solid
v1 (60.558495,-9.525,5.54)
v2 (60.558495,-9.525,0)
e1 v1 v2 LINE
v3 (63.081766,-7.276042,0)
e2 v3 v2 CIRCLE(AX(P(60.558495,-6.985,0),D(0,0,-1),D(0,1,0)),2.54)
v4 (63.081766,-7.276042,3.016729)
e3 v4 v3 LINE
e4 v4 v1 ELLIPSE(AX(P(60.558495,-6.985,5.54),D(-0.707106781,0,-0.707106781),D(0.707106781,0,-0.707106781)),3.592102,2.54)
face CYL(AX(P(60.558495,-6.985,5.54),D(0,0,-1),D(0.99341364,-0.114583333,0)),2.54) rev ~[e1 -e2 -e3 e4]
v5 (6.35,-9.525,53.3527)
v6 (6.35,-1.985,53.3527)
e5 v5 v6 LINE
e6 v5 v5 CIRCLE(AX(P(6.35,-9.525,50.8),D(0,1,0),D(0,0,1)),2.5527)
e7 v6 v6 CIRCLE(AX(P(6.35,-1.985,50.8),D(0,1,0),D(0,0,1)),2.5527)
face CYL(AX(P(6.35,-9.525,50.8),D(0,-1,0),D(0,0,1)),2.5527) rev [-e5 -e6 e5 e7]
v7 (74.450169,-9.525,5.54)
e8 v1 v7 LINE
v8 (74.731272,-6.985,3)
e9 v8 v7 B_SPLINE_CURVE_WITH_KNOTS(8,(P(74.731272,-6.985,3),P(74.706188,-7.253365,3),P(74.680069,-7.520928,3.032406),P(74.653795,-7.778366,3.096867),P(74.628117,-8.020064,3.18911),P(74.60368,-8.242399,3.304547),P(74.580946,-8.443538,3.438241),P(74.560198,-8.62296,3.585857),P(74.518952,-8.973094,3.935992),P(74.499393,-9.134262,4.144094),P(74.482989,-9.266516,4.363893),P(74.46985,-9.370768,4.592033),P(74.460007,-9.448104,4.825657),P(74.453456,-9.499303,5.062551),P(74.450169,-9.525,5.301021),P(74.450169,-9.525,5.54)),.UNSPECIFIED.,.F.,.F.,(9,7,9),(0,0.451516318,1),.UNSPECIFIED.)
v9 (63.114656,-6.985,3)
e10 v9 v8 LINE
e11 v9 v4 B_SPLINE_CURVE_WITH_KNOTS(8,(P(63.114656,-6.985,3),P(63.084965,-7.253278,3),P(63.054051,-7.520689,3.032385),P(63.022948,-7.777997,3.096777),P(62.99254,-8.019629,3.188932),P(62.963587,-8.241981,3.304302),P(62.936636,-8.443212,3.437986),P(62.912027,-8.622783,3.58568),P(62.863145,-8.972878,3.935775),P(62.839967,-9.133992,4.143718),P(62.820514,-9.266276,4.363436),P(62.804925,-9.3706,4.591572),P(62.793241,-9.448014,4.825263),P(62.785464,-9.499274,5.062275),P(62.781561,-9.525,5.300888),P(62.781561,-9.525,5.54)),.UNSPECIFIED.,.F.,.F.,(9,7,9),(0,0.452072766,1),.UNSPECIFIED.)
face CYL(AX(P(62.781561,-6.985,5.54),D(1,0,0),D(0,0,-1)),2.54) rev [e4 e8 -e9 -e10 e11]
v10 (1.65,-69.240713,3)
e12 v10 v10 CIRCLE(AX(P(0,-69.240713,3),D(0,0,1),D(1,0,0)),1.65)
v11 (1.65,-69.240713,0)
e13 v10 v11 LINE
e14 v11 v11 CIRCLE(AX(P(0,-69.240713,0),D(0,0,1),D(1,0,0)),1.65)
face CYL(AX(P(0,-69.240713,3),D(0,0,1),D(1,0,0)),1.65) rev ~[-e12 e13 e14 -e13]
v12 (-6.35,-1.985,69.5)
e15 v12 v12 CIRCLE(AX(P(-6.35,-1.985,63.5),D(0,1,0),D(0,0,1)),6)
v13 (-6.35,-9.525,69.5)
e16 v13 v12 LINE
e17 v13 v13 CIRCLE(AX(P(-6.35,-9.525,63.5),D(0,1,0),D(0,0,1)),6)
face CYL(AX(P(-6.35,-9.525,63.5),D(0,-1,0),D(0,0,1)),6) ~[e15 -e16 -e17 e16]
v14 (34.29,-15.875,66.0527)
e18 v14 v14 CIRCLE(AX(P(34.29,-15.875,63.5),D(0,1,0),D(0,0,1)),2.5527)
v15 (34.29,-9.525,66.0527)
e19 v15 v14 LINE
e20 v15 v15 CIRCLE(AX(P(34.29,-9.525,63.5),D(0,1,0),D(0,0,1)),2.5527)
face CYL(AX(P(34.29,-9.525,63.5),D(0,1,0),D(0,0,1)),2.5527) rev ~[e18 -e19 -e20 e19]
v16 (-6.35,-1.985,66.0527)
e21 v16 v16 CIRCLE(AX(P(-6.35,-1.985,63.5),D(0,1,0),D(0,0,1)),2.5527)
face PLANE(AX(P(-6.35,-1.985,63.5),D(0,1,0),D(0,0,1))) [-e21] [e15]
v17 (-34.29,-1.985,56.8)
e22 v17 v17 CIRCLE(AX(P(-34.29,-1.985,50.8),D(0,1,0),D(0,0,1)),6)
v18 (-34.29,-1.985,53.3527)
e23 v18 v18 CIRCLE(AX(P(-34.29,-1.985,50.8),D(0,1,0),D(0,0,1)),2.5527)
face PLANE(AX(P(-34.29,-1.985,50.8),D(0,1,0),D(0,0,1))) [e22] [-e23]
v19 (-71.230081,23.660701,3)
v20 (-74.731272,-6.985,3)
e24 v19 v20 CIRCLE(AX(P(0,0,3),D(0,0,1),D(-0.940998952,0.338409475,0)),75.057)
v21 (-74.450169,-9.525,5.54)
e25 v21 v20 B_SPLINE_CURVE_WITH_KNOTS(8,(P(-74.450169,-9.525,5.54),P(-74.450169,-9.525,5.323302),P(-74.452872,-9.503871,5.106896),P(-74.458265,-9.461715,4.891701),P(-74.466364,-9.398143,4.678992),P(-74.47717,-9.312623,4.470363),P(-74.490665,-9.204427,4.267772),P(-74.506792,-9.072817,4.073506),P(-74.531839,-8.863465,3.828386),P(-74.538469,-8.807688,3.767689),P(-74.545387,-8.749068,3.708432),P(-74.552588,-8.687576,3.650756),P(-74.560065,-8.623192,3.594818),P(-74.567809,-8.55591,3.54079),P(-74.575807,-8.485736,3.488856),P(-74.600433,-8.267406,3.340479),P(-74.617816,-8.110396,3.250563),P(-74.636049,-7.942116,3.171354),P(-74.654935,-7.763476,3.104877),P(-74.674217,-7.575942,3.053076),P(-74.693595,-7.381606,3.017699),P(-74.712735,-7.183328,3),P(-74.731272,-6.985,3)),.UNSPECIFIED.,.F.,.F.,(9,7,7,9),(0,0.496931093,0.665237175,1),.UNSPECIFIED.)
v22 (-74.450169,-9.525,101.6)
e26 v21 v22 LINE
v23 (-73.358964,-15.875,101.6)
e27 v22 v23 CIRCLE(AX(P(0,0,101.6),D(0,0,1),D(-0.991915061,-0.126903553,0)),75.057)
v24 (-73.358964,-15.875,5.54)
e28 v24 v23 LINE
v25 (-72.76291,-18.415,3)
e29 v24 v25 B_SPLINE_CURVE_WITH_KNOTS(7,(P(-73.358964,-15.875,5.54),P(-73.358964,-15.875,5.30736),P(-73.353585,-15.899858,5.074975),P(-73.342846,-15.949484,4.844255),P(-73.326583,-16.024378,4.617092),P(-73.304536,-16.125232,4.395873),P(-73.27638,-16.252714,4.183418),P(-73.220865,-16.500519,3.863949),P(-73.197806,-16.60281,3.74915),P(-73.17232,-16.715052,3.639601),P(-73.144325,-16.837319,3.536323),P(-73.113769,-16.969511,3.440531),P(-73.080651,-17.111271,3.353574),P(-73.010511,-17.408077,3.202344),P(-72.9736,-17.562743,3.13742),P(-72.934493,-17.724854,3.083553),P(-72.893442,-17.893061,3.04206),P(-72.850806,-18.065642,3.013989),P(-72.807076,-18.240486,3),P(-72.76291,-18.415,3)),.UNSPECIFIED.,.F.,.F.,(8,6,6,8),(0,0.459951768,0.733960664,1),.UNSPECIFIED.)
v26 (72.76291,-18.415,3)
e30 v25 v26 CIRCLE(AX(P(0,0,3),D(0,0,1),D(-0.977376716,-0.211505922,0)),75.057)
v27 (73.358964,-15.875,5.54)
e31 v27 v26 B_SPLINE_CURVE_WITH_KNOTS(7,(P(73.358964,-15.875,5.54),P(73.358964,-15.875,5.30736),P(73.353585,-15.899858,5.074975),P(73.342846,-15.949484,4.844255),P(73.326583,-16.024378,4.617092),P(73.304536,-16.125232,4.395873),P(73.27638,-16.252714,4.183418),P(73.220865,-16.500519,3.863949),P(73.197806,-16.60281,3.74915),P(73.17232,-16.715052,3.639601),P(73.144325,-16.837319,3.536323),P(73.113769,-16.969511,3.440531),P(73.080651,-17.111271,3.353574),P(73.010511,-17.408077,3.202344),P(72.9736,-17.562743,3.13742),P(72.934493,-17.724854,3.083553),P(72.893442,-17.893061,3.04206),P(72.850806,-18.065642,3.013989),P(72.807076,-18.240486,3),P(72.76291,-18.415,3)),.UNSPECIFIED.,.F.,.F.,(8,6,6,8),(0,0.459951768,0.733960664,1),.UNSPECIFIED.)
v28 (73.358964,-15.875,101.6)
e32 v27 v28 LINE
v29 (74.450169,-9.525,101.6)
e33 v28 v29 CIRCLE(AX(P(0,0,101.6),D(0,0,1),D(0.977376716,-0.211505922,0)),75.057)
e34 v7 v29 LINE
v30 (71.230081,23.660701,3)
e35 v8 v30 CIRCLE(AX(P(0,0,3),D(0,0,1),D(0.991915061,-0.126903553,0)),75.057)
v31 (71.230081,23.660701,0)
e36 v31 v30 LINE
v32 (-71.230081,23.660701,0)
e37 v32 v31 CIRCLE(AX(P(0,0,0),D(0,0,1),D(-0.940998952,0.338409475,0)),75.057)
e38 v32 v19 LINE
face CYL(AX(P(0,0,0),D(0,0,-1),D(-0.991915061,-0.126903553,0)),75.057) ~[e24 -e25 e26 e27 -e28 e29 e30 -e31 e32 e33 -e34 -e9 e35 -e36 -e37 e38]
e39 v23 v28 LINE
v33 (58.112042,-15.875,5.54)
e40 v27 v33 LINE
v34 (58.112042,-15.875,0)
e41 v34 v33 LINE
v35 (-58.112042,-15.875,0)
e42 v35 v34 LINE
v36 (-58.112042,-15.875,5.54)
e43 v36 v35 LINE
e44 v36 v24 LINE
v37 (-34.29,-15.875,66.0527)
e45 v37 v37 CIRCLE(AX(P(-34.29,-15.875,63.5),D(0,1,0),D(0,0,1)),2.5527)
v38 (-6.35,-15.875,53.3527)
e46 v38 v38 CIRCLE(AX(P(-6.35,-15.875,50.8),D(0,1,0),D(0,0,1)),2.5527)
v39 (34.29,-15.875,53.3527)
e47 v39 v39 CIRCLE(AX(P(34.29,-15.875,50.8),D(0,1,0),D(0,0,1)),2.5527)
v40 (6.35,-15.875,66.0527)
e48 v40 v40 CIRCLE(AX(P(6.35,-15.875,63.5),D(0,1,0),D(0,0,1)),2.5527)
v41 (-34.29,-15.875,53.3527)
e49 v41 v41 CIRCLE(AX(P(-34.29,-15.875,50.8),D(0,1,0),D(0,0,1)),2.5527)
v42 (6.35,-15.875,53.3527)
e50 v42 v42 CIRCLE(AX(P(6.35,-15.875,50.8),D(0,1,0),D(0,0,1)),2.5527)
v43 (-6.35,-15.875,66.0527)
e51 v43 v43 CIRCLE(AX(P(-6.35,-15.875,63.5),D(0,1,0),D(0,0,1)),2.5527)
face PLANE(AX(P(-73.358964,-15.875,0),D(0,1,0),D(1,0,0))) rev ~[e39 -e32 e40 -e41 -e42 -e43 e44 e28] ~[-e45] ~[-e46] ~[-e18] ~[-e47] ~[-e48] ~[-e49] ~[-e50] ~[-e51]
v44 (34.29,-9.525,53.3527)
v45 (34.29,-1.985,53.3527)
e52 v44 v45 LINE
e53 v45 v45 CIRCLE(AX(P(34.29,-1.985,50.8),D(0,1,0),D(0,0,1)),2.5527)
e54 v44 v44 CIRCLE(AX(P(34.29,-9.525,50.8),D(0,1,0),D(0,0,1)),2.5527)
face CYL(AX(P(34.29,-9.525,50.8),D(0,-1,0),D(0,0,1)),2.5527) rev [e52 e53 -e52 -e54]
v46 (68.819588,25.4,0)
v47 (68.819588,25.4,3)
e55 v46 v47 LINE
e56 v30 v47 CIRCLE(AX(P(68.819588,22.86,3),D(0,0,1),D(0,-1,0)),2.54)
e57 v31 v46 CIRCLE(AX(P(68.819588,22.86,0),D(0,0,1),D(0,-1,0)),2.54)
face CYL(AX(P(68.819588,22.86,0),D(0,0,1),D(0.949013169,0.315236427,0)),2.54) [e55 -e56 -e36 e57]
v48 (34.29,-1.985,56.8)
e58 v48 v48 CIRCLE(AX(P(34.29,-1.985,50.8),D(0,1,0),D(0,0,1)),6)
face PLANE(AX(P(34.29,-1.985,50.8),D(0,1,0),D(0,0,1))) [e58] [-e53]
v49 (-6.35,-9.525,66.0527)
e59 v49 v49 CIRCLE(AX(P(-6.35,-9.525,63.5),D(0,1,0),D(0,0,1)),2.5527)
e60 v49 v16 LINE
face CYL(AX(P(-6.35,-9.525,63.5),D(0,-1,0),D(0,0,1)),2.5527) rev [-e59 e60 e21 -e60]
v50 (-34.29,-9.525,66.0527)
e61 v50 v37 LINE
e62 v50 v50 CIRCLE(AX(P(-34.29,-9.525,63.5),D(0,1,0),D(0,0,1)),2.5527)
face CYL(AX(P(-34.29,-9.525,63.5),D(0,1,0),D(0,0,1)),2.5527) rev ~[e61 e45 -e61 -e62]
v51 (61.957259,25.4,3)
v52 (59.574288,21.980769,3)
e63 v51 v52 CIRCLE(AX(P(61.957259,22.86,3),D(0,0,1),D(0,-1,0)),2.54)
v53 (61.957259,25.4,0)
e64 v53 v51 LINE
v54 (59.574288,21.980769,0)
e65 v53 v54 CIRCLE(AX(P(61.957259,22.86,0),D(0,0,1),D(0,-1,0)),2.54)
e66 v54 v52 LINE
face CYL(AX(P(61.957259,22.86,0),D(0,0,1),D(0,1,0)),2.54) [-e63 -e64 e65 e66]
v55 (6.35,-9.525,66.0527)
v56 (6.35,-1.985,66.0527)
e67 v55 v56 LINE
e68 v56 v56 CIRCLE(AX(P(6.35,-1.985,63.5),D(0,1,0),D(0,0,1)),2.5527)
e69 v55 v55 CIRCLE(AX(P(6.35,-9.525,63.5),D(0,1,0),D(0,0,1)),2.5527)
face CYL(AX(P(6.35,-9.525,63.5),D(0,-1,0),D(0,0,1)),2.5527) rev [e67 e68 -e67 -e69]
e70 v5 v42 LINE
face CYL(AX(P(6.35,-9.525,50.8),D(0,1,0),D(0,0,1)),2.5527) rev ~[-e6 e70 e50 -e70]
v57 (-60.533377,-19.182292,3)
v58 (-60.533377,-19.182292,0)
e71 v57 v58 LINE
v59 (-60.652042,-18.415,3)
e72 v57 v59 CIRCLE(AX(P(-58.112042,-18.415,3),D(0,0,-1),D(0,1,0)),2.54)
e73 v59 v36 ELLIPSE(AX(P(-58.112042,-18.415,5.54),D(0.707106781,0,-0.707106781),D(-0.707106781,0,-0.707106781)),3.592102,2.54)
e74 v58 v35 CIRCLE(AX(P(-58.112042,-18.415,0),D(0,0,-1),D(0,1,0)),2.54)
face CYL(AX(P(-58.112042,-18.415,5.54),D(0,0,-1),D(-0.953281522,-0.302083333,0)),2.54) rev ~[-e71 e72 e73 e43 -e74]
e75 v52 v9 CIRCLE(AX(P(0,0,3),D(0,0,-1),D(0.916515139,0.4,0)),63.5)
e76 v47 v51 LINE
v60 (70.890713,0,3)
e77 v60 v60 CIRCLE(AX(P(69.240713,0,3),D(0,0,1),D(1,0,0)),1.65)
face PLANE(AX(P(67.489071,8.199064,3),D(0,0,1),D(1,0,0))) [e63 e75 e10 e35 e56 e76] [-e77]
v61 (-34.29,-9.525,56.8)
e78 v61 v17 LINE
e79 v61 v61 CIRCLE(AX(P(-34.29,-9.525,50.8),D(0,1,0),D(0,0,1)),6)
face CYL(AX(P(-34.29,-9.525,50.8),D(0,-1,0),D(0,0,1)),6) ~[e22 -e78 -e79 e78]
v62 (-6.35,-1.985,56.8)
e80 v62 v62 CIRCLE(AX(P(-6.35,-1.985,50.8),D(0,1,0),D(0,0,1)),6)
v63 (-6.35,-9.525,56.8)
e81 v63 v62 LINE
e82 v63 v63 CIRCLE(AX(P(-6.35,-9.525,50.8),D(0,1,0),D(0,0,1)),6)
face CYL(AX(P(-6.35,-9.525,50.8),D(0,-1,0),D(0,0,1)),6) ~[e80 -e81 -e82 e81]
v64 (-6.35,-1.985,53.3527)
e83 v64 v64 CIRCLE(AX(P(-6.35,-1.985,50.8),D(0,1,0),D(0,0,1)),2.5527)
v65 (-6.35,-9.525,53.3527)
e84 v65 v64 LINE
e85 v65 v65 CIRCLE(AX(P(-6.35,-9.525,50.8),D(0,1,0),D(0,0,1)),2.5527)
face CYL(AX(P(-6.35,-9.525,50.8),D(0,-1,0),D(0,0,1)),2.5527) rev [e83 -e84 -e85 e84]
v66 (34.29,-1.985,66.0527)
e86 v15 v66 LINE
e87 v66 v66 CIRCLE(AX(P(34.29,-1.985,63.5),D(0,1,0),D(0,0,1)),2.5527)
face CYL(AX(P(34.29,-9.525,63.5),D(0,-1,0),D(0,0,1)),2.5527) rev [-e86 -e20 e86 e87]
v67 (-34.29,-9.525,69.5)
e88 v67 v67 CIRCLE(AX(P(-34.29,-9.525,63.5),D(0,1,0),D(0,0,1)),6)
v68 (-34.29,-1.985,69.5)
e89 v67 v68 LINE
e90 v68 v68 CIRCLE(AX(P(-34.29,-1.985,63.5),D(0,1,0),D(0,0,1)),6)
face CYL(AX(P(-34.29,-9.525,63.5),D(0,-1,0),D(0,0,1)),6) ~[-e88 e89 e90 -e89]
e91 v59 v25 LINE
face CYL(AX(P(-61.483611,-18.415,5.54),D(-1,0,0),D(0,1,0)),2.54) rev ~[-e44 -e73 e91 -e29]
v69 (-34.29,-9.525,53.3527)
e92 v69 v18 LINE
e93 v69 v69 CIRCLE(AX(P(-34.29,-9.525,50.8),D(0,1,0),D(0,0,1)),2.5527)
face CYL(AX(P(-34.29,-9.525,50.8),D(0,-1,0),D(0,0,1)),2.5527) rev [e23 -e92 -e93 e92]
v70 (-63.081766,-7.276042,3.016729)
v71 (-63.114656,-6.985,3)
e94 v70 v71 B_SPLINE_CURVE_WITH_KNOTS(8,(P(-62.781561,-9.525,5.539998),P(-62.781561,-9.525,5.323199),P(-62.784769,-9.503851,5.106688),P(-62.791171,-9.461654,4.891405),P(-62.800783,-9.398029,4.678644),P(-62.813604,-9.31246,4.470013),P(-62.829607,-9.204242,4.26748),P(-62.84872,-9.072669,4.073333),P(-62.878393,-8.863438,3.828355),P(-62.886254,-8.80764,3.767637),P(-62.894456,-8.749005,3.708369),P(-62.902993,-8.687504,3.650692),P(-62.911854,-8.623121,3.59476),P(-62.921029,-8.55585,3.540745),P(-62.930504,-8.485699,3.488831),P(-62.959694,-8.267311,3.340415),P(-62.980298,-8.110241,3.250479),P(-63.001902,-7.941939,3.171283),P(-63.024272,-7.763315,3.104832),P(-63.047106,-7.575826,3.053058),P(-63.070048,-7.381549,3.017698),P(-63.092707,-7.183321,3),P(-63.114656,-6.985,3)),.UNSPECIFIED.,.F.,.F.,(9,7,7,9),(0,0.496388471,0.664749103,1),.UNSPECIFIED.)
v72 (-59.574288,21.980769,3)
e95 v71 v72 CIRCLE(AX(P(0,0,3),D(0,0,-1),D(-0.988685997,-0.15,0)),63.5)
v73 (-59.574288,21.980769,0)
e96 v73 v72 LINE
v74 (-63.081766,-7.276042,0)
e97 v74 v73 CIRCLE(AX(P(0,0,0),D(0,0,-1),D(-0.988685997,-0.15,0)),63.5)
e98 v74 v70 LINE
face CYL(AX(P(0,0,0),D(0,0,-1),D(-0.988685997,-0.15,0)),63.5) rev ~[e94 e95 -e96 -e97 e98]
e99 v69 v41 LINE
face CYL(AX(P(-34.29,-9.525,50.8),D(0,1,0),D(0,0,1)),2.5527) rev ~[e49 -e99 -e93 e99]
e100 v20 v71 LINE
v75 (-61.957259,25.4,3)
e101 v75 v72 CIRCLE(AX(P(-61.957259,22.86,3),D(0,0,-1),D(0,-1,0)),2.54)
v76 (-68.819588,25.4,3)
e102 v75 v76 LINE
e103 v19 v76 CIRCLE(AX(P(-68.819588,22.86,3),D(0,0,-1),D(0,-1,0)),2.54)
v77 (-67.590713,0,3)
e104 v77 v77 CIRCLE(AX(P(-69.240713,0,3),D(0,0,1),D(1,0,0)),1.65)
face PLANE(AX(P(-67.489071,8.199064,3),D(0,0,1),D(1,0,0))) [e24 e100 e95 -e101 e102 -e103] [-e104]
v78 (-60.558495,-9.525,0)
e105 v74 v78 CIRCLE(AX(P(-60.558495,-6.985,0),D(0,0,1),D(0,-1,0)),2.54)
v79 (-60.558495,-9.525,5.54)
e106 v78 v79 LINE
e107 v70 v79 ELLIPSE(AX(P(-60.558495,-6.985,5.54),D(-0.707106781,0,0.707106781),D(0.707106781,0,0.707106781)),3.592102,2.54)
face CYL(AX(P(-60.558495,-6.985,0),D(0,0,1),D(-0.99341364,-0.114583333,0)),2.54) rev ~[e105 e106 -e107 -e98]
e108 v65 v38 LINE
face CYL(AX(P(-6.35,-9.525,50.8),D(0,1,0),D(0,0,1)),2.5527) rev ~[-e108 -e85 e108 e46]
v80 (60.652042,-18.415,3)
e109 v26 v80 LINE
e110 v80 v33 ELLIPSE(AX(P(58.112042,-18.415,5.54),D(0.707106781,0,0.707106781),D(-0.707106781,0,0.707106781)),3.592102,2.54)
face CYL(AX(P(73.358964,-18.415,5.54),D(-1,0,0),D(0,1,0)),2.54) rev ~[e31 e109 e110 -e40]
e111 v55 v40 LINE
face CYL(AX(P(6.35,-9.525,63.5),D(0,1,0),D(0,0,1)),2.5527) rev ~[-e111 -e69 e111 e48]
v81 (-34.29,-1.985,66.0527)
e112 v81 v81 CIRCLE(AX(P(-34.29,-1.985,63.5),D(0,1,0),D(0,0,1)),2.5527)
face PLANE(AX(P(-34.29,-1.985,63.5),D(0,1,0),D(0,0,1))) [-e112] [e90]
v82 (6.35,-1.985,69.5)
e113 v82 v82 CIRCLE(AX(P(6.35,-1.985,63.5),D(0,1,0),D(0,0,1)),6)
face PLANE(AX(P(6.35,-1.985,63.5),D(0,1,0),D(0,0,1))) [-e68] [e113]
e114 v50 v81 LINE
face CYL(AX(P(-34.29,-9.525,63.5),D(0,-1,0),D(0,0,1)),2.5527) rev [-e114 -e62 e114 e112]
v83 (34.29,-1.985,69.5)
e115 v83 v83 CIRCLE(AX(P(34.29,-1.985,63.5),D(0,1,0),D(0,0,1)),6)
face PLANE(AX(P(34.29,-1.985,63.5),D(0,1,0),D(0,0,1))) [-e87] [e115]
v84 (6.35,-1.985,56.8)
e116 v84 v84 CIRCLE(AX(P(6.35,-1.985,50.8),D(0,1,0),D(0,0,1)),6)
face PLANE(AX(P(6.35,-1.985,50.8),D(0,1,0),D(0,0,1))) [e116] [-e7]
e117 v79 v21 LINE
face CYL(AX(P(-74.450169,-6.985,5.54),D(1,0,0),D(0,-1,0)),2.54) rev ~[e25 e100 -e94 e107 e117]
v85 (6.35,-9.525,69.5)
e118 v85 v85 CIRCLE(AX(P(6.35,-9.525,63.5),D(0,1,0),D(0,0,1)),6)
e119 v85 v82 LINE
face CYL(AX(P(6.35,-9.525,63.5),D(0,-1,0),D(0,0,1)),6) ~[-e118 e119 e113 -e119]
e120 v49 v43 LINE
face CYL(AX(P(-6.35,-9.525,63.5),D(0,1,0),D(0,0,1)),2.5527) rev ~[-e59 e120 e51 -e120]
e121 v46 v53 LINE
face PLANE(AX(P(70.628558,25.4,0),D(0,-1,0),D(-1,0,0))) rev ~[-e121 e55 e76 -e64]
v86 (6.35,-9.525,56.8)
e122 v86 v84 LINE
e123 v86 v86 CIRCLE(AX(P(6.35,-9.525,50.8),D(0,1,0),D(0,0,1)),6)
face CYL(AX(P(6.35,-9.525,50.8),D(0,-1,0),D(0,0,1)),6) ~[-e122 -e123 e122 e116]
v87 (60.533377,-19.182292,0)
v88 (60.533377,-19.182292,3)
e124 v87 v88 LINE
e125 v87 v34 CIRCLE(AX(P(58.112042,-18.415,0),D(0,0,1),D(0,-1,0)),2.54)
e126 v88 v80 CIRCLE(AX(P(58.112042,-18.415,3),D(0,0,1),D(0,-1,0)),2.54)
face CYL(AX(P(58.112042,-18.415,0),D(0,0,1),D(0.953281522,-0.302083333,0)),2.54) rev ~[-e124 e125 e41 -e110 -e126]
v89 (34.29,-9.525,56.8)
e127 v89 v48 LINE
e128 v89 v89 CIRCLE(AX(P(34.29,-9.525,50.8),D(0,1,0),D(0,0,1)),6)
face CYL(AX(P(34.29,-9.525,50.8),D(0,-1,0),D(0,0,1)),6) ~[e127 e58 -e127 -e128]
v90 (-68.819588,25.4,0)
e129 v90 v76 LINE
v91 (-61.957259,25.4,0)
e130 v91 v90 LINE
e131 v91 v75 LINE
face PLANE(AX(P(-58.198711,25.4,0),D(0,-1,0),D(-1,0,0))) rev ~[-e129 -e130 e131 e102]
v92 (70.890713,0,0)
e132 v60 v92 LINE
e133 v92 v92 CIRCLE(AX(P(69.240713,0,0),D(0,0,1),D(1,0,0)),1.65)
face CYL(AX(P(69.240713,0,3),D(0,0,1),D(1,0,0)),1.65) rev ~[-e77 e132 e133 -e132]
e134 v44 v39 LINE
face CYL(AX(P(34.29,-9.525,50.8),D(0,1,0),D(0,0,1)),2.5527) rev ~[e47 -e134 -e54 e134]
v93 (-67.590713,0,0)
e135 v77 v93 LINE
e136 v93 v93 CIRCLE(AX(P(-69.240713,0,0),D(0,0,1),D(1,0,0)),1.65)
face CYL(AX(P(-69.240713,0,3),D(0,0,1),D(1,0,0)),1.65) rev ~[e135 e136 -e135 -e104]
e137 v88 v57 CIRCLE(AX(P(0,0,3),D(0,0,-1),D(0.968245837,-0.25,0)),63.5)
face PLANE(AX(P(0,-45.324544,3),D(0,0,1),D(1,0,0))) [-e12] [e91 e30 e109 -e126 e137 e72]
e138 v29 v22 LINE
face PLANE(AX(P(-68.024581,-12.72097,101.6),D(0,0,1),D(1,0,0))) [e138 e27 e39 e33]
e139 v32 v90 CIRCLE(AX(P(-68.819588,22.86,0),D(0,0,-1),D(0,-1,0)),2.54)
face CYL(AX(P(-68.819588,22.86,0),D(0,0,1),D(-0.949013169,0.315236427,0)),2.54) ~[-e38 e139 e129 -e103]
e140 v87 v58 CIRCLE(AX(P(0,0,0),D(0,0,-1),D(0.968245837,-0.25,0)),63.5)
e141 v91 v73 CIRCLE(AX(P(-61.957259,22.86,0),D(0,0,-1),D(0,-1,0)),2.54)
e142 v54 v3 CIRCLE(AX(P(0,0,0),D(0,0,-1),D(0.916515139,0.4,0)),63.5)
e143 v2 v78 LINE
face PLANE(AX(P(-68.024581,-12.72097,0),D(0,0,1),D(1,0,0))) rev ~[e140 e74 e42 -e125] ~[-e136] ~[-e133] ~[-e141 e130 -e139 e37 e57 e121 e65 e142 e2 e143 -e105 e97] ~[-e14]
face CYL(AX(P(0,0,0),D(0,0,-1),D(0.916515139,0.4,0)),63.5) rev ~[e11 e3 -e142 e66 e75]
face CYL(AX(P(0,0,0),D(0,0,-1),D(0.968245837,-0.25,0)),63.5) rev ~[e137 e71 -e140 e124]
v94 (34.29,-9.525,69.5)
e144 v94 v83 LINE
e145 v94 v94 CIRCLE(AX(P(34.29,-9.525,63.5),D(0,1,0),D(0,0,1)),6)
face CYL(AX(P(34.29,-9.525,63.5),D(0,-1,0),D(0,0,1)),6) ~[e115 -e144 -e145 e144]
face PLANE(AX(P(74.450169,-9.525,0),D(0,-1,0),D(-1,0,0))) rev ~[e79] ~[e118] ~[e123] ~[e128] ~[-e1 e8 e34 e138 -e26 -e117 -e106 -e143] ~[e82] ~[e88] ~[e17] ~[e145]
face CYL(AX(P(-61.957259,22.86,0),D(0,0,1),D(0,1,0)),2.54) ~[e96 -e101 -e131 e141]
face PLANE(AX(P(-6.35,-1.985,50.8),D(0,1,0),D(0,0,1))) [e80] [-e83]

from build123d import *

# Parameters (mm, degrees)
BOSS_EXTRUDE1_DEPTH   = 3
BOSS_EXTRUDE1_2_DEPTH = 3
BOSS_EXTRUDE1_3_DEPTH = 3
BOSS_EXTRUDE2_DEPTH   = 101.6
SKETCH2_R             = 5.999999999999988
SKETCH2_R_2           = 2.5526999999999975
SKETCH2_R_3           = 6
SKETCH2_R_4           = 2.5527000000000024
SKETCH2_R_5           = 6.000000000000007
SKETCH2_R_6           = 2.5526999999999953
SKETCH2_R_7           = 5.999999999999999
SKETCH2_R_8           = 2.552699999999999
SKETCH2_R_9           = 5.9999999999999964
SKETCH2_R_10          = 6.0000000000000036
SKETCH2_R_11          = 2.5527000000000126
SKETCH2_R_12          = 2.552700000000004
BOSS_EXTRUDE3_DEPTH   = 7.54
SKETCH2_3_R           = 2.5526999999999953
SKETCH2_3_R_2         = 2.5526999999999975
SKETCH2_3_R_3         = 2.5527000000000024
SKETCH2_3_R_4         = 2.552699999999999
SKETCH2_3_R_5         = 2.5527000000000126
SKETCH2_3_R_6         = 2.552700000000004
CUT_EXTRUDE1_DEPTH    = 143.3044492382441
SKETCH3_R             = 1.6499999999999975
SKETCH3_R_2           = 1.6500000000000021
CUT_EXTRUDE2_DEPTH    = 145.87603838454444
FILLET1_R             = 2.5399999999999996
FILLET2_R             = 2.5399999999999996
FILLET3_R             = 2.5399999999999996


with BuildPart() as part:
    # Sketch1 → Boss-Extrude1 (new body)
    with BuildSketch(Plane.XY):
        with BuildLine():
            Line((-58.198711325939165, 25.400000000000002), (-70.62855831036053, 25.400000000000002))
            ThreePointArc((-70.62855831036052, 25.39999999999999), (-74.61164899798933, 8.164256414446488), (-74.45016873050051, -9.524999999999999))
            Line((-74.45016873050054, -9.525), (-62.78156078818072, -9.525))
            ThreePointArc((-62.7815607881806, -9.524999999999148), (-62.96026895155072, 8.261630199203937), (-58.198711325939165, 25.4))
        make_face()
    extrude(amount=BOSS_EXTRUDE1_DEPTH)



with BuildPart() as body_2:
    # Sketch1 → Boss-Extrude1 2 (new body)
    with BuildSketch(Plane.XY):
        with BuildLine():
            Line((-61.48361062104342, -15.875), (-73.35896416935016, -15.875))
            ThreePointArc((-73.35896416935012, -15.874999999999993), (1.421e-14, -75.05699999999997), (73.35896416935014, -15.874999999999961))
            Line((73.35896416935016, -15.875), (61.48361062104344, -15.875))
            ThreePointArc((61.483610621043105, -15.874999999998629), (1.78e-15, -63.50000000000001), (-61.48361062104309, -15.874999999998634))
        make_face()
    extrude(amount=BOSS_EXTRUDE1_2_DEPTH)


with BuildPart() as body_3:
    # Sketch1 → Boss-Extrude1 3 (new body)
    with BuildSketch(Plane.XY):
        with BuildLine():
            ThreePointArc((58.19871132593919, 25.399999999999977), (62.96026895155074, 8.261630199203923), (62.78156078818061, -9.524999999999146))
            Line((62.78156078818074, -9.525), (74.45016873050054, -9.525))
            ThreePointArc((74.45016873050054, -9.524999999999999), (74.61164899798936, 8.164256414446513), (70.62855831036052, 25.400000000000006))
            Line((70.62855831036053, 25.400000000000002), (58.198711325939165, 25.400000000000002))
        make_face()
    extrude(amount=BOSS_EXTRUDE1_3_DEPTH)


with BuildPart() as part_1:
    add(part.part)

    add(body_2.part)  # Boss-Extrude2 merges body 2

    add(body_3.part)  # Boss-Extrude2 merges body 3
    # Sketch1<3> → Boss-Extrude2 (add)
    with BuildSketch(Plane.XY):
        with BuildLine():
            ThreePointArc((-74.45016873050051, -9.524999999999999), (-73.97273529586036, -12.711714355214593), (-73.35896416935012, -15.874999999999993))
            Line((-73.35896416935016, -15.875), (73.35896416935016, -15.875))
            ThreePointArc((73.35896416935014, -15.874999999999991), (73.97273529586039, -12.711714355214575), (74.45016873050054, -9.524999999999999))
            Line((74.45016873050054, -9.525), (-74.45016873050054, -9.525))
        make_face()
    extrude(amount=BOSS_EXTRUDE2_DEPTH)

    # Sketch2 → Boss-Extrude3 (add)
    # profile 1 of 8: a face of its own
    with BuildSketch(Plane(origin=(0, -9.525, 0), x_dir=(1, 0, 0), z_dir=(0, 1, 0))):
        with Locations((-34.29, -50.8)):
            Circle(SKETCH2_R)
        with Locations((-34.29, -50.8)):
            Circle(SKETCH2_R_2, mode=Mode.SUBTRACT)
    # profile 2 of 8: a face of its own
    with BuildSketch(Plane(origin=(0, -9.525, 0), x_dir=(1, 0, 0), z_dir=(0, 1, 0))):
        with Locations((-6.349999999999996, -50.8)):
            Circle(SKETCH2_R_3)
        with Locations((-6.349999999999996, -50.8)):
            Circle(SKETCH2_R_4, mode=Mode.SUBTRACT)
    # profile 3 of 8: a face of its own
    with BuildSketch(Plane(origin=(0, -9.525, 0), x_dir=(1, 0, 0), z_dir=(0, 1, 0))):
        with Locations((-34.29, -63.5)):
            Circle(SKETCH2_R_5)
        with Locations((-34.29, -63.5)):
            Circle(SKETCH2_R_6, mode=Mode.SUBTRACT)
    # profile 4 of 8: a face of its own
    with BuildSketch(Plane(origin=(0, -9.525, 0), x_dir=(1, 0, 0), z_dir=(0, 1, 0))):
        with Locations((-6.349999999999996, -63.5)):
            Circle(SKETCH2_R_7)
        with Locations((-6.349999999999996, -63.5)):
            Circle(SKETCH2_R_8, mode=Mode.SUBTRACT)
    # profile 5 of 8: a face of its own
    with BuildSketch(Plane(origin=(0, -9.525, 0), x_dir=(1, 0, 0), z_dir=(0, 1, 0))):
        with Locations((6.350000000000014, -63.5)):
            Circle(SKETCH2_R_9)
        with Locations((6.350000000000014, -63.5)):
            Circle(SKETCH2_R_8, mode=Mode.SUBTRACT)
    # profile 6 of 8: a face of its own
    with BuildSketch(Plane(origin=(0, -9.525, 0), x_dir=(1, 0, 0), z_dir=(0, 1, 0))):
        with Locations((34.29000000000001, -63.499999999999986)):
            Circle(SKETCH2_R_10)
        with Locations((34.29000000000001, -63.499999999999986)):
            Circle(SKETCH2_R_11, mode=Mode.SUBTRACT)
    # profile 7 of 8: a face of its own
    with BuildSketch(Plane(origin=(0, -9.525, 0), x_dir=(1, 0, 0), z_dir=(0, 1, 0))):
        with Locations((6.35000000000001, -50.8)):
            Circle(SKETCH2_R_7)
        with Locations((6.35000000000001, -50.8)):
            Circle(SKETCH2_R_4, mode=Mode.SUBTRACT)
    # profile 8 of 8: a face of its own
    with BuildSketch(Plane(origin=(0, -9.525, 0), x_dir=(1, 0, 0), z_dir=(0, 1, 0))):
        with Locations((34.29000000000001, -50.79999999999999)):
            Circle(SKETCH2_R_10)
        with Locations((34.29000000000001, -50.79999999999999)):
            Circle(SKETCH2_R_12, mode=Mode.SUBTRACT)
    extrude(amount=BOSS_EXTRUDE3_DEPTH)

    # Sketch2<3> → Cut-Extrude1 (cut, through all)
    with BuildSketch(Plane(origin=(0, -9.525, 0), x_dir=(1, 0, 0), z_dir=(0, 1, 0))):
        with Locations((-34.29, -63.5)):
            Circle(SKETCH2_3_R)
        with Locations((-34.29, -50.8)):
            Circle(SKETCH2_3_R_2)
        with Locations((-6.349999999999996, -50.8)):
            Circle(SKETCH2_3_R_3)
        with Locations((-6.349999999999996, -63.5)):
            Circle(SKETCH2_3_R_4)
        with Locations((6.350000000000014, -63.5)):
            Circle(SKETCH2_3_R_4)
        with Locations((34.29000000000001, -63.499999999999986)):
            Circle(SKETCH2_3_R_5)
        with Locations((6.35000000000001, -50.8)):
            Circle(SKETCH2_3_R_3)
        with Locations((34.29000000000001, -50.79999999999999)):
            Circle(SKETCH2_3_R_6)
    extrude(amount=-CUT_EXTRUDE1_DEPTH, mode=Mode.SUBTRACT)

    # Sketch3 → Cut-Extrude2 (cut, through all)
    with BuildSketch(Plane.XY.offset(3)):
        with Locations((0, -69.24071309920174)):
            Circle(SKETCH3_R)
        with Locations((69.24071309920174, 0)):
            Circle(SKETCH3_R_2)
        with Locations((-69.24071309920174, 0)):
            Circle(SKETCH3_R_2)
    extrude(amount=-CUT_EXTRUDE2_DEPTH, mode=Mode.SUBTRACT)

    # Fillet1
    fillet1_edges = [part_1.edges().sort_by_distance(p)[0] for p in [
        (70.62855831036052, 25.400000000000002, 1.5),
        (58.198711325939186, 25.39999999999999, 1.5),
        (-70.62855831036052, 25.4, 1.5),
        (-58.19871132593916, 25.4, 1.5),
    ]]
    fillet(fillet1_edges, radius=FILLET1_R)

    # Fillet2
    fillet2_edges = [part_1.edges().sort_by_distance(p)[0] for p in [
        (-67.42128739519679, -15.875, 3),
        (-68.61586475934062, -9.525, 3),
        (68.61586475934064, -9.525, 3),
        (67.4212873951968, -15.875, 3),
    ]]
    fillet(fillet2_edges, radius=FILLET2_R)

    # Fillet3
    fillet3_edges = [part_1.edges().sort_by_distance(p)[0] for p in [
        (62.781560788180585, -9.524999999999785, 2.7699999999999996),
        (61.48361062104301, -15.874999999999657, 2.7699999999999996),
        (-61.483610621043, -15.87499999999966, 2.7699999999999996),
        (-62.781560788180556, -9.524999999999785, 2.7699999999999996),
    ]]
    fillet(fillet3_edges, radius=FILLET3_R)


solid = part_1.part
